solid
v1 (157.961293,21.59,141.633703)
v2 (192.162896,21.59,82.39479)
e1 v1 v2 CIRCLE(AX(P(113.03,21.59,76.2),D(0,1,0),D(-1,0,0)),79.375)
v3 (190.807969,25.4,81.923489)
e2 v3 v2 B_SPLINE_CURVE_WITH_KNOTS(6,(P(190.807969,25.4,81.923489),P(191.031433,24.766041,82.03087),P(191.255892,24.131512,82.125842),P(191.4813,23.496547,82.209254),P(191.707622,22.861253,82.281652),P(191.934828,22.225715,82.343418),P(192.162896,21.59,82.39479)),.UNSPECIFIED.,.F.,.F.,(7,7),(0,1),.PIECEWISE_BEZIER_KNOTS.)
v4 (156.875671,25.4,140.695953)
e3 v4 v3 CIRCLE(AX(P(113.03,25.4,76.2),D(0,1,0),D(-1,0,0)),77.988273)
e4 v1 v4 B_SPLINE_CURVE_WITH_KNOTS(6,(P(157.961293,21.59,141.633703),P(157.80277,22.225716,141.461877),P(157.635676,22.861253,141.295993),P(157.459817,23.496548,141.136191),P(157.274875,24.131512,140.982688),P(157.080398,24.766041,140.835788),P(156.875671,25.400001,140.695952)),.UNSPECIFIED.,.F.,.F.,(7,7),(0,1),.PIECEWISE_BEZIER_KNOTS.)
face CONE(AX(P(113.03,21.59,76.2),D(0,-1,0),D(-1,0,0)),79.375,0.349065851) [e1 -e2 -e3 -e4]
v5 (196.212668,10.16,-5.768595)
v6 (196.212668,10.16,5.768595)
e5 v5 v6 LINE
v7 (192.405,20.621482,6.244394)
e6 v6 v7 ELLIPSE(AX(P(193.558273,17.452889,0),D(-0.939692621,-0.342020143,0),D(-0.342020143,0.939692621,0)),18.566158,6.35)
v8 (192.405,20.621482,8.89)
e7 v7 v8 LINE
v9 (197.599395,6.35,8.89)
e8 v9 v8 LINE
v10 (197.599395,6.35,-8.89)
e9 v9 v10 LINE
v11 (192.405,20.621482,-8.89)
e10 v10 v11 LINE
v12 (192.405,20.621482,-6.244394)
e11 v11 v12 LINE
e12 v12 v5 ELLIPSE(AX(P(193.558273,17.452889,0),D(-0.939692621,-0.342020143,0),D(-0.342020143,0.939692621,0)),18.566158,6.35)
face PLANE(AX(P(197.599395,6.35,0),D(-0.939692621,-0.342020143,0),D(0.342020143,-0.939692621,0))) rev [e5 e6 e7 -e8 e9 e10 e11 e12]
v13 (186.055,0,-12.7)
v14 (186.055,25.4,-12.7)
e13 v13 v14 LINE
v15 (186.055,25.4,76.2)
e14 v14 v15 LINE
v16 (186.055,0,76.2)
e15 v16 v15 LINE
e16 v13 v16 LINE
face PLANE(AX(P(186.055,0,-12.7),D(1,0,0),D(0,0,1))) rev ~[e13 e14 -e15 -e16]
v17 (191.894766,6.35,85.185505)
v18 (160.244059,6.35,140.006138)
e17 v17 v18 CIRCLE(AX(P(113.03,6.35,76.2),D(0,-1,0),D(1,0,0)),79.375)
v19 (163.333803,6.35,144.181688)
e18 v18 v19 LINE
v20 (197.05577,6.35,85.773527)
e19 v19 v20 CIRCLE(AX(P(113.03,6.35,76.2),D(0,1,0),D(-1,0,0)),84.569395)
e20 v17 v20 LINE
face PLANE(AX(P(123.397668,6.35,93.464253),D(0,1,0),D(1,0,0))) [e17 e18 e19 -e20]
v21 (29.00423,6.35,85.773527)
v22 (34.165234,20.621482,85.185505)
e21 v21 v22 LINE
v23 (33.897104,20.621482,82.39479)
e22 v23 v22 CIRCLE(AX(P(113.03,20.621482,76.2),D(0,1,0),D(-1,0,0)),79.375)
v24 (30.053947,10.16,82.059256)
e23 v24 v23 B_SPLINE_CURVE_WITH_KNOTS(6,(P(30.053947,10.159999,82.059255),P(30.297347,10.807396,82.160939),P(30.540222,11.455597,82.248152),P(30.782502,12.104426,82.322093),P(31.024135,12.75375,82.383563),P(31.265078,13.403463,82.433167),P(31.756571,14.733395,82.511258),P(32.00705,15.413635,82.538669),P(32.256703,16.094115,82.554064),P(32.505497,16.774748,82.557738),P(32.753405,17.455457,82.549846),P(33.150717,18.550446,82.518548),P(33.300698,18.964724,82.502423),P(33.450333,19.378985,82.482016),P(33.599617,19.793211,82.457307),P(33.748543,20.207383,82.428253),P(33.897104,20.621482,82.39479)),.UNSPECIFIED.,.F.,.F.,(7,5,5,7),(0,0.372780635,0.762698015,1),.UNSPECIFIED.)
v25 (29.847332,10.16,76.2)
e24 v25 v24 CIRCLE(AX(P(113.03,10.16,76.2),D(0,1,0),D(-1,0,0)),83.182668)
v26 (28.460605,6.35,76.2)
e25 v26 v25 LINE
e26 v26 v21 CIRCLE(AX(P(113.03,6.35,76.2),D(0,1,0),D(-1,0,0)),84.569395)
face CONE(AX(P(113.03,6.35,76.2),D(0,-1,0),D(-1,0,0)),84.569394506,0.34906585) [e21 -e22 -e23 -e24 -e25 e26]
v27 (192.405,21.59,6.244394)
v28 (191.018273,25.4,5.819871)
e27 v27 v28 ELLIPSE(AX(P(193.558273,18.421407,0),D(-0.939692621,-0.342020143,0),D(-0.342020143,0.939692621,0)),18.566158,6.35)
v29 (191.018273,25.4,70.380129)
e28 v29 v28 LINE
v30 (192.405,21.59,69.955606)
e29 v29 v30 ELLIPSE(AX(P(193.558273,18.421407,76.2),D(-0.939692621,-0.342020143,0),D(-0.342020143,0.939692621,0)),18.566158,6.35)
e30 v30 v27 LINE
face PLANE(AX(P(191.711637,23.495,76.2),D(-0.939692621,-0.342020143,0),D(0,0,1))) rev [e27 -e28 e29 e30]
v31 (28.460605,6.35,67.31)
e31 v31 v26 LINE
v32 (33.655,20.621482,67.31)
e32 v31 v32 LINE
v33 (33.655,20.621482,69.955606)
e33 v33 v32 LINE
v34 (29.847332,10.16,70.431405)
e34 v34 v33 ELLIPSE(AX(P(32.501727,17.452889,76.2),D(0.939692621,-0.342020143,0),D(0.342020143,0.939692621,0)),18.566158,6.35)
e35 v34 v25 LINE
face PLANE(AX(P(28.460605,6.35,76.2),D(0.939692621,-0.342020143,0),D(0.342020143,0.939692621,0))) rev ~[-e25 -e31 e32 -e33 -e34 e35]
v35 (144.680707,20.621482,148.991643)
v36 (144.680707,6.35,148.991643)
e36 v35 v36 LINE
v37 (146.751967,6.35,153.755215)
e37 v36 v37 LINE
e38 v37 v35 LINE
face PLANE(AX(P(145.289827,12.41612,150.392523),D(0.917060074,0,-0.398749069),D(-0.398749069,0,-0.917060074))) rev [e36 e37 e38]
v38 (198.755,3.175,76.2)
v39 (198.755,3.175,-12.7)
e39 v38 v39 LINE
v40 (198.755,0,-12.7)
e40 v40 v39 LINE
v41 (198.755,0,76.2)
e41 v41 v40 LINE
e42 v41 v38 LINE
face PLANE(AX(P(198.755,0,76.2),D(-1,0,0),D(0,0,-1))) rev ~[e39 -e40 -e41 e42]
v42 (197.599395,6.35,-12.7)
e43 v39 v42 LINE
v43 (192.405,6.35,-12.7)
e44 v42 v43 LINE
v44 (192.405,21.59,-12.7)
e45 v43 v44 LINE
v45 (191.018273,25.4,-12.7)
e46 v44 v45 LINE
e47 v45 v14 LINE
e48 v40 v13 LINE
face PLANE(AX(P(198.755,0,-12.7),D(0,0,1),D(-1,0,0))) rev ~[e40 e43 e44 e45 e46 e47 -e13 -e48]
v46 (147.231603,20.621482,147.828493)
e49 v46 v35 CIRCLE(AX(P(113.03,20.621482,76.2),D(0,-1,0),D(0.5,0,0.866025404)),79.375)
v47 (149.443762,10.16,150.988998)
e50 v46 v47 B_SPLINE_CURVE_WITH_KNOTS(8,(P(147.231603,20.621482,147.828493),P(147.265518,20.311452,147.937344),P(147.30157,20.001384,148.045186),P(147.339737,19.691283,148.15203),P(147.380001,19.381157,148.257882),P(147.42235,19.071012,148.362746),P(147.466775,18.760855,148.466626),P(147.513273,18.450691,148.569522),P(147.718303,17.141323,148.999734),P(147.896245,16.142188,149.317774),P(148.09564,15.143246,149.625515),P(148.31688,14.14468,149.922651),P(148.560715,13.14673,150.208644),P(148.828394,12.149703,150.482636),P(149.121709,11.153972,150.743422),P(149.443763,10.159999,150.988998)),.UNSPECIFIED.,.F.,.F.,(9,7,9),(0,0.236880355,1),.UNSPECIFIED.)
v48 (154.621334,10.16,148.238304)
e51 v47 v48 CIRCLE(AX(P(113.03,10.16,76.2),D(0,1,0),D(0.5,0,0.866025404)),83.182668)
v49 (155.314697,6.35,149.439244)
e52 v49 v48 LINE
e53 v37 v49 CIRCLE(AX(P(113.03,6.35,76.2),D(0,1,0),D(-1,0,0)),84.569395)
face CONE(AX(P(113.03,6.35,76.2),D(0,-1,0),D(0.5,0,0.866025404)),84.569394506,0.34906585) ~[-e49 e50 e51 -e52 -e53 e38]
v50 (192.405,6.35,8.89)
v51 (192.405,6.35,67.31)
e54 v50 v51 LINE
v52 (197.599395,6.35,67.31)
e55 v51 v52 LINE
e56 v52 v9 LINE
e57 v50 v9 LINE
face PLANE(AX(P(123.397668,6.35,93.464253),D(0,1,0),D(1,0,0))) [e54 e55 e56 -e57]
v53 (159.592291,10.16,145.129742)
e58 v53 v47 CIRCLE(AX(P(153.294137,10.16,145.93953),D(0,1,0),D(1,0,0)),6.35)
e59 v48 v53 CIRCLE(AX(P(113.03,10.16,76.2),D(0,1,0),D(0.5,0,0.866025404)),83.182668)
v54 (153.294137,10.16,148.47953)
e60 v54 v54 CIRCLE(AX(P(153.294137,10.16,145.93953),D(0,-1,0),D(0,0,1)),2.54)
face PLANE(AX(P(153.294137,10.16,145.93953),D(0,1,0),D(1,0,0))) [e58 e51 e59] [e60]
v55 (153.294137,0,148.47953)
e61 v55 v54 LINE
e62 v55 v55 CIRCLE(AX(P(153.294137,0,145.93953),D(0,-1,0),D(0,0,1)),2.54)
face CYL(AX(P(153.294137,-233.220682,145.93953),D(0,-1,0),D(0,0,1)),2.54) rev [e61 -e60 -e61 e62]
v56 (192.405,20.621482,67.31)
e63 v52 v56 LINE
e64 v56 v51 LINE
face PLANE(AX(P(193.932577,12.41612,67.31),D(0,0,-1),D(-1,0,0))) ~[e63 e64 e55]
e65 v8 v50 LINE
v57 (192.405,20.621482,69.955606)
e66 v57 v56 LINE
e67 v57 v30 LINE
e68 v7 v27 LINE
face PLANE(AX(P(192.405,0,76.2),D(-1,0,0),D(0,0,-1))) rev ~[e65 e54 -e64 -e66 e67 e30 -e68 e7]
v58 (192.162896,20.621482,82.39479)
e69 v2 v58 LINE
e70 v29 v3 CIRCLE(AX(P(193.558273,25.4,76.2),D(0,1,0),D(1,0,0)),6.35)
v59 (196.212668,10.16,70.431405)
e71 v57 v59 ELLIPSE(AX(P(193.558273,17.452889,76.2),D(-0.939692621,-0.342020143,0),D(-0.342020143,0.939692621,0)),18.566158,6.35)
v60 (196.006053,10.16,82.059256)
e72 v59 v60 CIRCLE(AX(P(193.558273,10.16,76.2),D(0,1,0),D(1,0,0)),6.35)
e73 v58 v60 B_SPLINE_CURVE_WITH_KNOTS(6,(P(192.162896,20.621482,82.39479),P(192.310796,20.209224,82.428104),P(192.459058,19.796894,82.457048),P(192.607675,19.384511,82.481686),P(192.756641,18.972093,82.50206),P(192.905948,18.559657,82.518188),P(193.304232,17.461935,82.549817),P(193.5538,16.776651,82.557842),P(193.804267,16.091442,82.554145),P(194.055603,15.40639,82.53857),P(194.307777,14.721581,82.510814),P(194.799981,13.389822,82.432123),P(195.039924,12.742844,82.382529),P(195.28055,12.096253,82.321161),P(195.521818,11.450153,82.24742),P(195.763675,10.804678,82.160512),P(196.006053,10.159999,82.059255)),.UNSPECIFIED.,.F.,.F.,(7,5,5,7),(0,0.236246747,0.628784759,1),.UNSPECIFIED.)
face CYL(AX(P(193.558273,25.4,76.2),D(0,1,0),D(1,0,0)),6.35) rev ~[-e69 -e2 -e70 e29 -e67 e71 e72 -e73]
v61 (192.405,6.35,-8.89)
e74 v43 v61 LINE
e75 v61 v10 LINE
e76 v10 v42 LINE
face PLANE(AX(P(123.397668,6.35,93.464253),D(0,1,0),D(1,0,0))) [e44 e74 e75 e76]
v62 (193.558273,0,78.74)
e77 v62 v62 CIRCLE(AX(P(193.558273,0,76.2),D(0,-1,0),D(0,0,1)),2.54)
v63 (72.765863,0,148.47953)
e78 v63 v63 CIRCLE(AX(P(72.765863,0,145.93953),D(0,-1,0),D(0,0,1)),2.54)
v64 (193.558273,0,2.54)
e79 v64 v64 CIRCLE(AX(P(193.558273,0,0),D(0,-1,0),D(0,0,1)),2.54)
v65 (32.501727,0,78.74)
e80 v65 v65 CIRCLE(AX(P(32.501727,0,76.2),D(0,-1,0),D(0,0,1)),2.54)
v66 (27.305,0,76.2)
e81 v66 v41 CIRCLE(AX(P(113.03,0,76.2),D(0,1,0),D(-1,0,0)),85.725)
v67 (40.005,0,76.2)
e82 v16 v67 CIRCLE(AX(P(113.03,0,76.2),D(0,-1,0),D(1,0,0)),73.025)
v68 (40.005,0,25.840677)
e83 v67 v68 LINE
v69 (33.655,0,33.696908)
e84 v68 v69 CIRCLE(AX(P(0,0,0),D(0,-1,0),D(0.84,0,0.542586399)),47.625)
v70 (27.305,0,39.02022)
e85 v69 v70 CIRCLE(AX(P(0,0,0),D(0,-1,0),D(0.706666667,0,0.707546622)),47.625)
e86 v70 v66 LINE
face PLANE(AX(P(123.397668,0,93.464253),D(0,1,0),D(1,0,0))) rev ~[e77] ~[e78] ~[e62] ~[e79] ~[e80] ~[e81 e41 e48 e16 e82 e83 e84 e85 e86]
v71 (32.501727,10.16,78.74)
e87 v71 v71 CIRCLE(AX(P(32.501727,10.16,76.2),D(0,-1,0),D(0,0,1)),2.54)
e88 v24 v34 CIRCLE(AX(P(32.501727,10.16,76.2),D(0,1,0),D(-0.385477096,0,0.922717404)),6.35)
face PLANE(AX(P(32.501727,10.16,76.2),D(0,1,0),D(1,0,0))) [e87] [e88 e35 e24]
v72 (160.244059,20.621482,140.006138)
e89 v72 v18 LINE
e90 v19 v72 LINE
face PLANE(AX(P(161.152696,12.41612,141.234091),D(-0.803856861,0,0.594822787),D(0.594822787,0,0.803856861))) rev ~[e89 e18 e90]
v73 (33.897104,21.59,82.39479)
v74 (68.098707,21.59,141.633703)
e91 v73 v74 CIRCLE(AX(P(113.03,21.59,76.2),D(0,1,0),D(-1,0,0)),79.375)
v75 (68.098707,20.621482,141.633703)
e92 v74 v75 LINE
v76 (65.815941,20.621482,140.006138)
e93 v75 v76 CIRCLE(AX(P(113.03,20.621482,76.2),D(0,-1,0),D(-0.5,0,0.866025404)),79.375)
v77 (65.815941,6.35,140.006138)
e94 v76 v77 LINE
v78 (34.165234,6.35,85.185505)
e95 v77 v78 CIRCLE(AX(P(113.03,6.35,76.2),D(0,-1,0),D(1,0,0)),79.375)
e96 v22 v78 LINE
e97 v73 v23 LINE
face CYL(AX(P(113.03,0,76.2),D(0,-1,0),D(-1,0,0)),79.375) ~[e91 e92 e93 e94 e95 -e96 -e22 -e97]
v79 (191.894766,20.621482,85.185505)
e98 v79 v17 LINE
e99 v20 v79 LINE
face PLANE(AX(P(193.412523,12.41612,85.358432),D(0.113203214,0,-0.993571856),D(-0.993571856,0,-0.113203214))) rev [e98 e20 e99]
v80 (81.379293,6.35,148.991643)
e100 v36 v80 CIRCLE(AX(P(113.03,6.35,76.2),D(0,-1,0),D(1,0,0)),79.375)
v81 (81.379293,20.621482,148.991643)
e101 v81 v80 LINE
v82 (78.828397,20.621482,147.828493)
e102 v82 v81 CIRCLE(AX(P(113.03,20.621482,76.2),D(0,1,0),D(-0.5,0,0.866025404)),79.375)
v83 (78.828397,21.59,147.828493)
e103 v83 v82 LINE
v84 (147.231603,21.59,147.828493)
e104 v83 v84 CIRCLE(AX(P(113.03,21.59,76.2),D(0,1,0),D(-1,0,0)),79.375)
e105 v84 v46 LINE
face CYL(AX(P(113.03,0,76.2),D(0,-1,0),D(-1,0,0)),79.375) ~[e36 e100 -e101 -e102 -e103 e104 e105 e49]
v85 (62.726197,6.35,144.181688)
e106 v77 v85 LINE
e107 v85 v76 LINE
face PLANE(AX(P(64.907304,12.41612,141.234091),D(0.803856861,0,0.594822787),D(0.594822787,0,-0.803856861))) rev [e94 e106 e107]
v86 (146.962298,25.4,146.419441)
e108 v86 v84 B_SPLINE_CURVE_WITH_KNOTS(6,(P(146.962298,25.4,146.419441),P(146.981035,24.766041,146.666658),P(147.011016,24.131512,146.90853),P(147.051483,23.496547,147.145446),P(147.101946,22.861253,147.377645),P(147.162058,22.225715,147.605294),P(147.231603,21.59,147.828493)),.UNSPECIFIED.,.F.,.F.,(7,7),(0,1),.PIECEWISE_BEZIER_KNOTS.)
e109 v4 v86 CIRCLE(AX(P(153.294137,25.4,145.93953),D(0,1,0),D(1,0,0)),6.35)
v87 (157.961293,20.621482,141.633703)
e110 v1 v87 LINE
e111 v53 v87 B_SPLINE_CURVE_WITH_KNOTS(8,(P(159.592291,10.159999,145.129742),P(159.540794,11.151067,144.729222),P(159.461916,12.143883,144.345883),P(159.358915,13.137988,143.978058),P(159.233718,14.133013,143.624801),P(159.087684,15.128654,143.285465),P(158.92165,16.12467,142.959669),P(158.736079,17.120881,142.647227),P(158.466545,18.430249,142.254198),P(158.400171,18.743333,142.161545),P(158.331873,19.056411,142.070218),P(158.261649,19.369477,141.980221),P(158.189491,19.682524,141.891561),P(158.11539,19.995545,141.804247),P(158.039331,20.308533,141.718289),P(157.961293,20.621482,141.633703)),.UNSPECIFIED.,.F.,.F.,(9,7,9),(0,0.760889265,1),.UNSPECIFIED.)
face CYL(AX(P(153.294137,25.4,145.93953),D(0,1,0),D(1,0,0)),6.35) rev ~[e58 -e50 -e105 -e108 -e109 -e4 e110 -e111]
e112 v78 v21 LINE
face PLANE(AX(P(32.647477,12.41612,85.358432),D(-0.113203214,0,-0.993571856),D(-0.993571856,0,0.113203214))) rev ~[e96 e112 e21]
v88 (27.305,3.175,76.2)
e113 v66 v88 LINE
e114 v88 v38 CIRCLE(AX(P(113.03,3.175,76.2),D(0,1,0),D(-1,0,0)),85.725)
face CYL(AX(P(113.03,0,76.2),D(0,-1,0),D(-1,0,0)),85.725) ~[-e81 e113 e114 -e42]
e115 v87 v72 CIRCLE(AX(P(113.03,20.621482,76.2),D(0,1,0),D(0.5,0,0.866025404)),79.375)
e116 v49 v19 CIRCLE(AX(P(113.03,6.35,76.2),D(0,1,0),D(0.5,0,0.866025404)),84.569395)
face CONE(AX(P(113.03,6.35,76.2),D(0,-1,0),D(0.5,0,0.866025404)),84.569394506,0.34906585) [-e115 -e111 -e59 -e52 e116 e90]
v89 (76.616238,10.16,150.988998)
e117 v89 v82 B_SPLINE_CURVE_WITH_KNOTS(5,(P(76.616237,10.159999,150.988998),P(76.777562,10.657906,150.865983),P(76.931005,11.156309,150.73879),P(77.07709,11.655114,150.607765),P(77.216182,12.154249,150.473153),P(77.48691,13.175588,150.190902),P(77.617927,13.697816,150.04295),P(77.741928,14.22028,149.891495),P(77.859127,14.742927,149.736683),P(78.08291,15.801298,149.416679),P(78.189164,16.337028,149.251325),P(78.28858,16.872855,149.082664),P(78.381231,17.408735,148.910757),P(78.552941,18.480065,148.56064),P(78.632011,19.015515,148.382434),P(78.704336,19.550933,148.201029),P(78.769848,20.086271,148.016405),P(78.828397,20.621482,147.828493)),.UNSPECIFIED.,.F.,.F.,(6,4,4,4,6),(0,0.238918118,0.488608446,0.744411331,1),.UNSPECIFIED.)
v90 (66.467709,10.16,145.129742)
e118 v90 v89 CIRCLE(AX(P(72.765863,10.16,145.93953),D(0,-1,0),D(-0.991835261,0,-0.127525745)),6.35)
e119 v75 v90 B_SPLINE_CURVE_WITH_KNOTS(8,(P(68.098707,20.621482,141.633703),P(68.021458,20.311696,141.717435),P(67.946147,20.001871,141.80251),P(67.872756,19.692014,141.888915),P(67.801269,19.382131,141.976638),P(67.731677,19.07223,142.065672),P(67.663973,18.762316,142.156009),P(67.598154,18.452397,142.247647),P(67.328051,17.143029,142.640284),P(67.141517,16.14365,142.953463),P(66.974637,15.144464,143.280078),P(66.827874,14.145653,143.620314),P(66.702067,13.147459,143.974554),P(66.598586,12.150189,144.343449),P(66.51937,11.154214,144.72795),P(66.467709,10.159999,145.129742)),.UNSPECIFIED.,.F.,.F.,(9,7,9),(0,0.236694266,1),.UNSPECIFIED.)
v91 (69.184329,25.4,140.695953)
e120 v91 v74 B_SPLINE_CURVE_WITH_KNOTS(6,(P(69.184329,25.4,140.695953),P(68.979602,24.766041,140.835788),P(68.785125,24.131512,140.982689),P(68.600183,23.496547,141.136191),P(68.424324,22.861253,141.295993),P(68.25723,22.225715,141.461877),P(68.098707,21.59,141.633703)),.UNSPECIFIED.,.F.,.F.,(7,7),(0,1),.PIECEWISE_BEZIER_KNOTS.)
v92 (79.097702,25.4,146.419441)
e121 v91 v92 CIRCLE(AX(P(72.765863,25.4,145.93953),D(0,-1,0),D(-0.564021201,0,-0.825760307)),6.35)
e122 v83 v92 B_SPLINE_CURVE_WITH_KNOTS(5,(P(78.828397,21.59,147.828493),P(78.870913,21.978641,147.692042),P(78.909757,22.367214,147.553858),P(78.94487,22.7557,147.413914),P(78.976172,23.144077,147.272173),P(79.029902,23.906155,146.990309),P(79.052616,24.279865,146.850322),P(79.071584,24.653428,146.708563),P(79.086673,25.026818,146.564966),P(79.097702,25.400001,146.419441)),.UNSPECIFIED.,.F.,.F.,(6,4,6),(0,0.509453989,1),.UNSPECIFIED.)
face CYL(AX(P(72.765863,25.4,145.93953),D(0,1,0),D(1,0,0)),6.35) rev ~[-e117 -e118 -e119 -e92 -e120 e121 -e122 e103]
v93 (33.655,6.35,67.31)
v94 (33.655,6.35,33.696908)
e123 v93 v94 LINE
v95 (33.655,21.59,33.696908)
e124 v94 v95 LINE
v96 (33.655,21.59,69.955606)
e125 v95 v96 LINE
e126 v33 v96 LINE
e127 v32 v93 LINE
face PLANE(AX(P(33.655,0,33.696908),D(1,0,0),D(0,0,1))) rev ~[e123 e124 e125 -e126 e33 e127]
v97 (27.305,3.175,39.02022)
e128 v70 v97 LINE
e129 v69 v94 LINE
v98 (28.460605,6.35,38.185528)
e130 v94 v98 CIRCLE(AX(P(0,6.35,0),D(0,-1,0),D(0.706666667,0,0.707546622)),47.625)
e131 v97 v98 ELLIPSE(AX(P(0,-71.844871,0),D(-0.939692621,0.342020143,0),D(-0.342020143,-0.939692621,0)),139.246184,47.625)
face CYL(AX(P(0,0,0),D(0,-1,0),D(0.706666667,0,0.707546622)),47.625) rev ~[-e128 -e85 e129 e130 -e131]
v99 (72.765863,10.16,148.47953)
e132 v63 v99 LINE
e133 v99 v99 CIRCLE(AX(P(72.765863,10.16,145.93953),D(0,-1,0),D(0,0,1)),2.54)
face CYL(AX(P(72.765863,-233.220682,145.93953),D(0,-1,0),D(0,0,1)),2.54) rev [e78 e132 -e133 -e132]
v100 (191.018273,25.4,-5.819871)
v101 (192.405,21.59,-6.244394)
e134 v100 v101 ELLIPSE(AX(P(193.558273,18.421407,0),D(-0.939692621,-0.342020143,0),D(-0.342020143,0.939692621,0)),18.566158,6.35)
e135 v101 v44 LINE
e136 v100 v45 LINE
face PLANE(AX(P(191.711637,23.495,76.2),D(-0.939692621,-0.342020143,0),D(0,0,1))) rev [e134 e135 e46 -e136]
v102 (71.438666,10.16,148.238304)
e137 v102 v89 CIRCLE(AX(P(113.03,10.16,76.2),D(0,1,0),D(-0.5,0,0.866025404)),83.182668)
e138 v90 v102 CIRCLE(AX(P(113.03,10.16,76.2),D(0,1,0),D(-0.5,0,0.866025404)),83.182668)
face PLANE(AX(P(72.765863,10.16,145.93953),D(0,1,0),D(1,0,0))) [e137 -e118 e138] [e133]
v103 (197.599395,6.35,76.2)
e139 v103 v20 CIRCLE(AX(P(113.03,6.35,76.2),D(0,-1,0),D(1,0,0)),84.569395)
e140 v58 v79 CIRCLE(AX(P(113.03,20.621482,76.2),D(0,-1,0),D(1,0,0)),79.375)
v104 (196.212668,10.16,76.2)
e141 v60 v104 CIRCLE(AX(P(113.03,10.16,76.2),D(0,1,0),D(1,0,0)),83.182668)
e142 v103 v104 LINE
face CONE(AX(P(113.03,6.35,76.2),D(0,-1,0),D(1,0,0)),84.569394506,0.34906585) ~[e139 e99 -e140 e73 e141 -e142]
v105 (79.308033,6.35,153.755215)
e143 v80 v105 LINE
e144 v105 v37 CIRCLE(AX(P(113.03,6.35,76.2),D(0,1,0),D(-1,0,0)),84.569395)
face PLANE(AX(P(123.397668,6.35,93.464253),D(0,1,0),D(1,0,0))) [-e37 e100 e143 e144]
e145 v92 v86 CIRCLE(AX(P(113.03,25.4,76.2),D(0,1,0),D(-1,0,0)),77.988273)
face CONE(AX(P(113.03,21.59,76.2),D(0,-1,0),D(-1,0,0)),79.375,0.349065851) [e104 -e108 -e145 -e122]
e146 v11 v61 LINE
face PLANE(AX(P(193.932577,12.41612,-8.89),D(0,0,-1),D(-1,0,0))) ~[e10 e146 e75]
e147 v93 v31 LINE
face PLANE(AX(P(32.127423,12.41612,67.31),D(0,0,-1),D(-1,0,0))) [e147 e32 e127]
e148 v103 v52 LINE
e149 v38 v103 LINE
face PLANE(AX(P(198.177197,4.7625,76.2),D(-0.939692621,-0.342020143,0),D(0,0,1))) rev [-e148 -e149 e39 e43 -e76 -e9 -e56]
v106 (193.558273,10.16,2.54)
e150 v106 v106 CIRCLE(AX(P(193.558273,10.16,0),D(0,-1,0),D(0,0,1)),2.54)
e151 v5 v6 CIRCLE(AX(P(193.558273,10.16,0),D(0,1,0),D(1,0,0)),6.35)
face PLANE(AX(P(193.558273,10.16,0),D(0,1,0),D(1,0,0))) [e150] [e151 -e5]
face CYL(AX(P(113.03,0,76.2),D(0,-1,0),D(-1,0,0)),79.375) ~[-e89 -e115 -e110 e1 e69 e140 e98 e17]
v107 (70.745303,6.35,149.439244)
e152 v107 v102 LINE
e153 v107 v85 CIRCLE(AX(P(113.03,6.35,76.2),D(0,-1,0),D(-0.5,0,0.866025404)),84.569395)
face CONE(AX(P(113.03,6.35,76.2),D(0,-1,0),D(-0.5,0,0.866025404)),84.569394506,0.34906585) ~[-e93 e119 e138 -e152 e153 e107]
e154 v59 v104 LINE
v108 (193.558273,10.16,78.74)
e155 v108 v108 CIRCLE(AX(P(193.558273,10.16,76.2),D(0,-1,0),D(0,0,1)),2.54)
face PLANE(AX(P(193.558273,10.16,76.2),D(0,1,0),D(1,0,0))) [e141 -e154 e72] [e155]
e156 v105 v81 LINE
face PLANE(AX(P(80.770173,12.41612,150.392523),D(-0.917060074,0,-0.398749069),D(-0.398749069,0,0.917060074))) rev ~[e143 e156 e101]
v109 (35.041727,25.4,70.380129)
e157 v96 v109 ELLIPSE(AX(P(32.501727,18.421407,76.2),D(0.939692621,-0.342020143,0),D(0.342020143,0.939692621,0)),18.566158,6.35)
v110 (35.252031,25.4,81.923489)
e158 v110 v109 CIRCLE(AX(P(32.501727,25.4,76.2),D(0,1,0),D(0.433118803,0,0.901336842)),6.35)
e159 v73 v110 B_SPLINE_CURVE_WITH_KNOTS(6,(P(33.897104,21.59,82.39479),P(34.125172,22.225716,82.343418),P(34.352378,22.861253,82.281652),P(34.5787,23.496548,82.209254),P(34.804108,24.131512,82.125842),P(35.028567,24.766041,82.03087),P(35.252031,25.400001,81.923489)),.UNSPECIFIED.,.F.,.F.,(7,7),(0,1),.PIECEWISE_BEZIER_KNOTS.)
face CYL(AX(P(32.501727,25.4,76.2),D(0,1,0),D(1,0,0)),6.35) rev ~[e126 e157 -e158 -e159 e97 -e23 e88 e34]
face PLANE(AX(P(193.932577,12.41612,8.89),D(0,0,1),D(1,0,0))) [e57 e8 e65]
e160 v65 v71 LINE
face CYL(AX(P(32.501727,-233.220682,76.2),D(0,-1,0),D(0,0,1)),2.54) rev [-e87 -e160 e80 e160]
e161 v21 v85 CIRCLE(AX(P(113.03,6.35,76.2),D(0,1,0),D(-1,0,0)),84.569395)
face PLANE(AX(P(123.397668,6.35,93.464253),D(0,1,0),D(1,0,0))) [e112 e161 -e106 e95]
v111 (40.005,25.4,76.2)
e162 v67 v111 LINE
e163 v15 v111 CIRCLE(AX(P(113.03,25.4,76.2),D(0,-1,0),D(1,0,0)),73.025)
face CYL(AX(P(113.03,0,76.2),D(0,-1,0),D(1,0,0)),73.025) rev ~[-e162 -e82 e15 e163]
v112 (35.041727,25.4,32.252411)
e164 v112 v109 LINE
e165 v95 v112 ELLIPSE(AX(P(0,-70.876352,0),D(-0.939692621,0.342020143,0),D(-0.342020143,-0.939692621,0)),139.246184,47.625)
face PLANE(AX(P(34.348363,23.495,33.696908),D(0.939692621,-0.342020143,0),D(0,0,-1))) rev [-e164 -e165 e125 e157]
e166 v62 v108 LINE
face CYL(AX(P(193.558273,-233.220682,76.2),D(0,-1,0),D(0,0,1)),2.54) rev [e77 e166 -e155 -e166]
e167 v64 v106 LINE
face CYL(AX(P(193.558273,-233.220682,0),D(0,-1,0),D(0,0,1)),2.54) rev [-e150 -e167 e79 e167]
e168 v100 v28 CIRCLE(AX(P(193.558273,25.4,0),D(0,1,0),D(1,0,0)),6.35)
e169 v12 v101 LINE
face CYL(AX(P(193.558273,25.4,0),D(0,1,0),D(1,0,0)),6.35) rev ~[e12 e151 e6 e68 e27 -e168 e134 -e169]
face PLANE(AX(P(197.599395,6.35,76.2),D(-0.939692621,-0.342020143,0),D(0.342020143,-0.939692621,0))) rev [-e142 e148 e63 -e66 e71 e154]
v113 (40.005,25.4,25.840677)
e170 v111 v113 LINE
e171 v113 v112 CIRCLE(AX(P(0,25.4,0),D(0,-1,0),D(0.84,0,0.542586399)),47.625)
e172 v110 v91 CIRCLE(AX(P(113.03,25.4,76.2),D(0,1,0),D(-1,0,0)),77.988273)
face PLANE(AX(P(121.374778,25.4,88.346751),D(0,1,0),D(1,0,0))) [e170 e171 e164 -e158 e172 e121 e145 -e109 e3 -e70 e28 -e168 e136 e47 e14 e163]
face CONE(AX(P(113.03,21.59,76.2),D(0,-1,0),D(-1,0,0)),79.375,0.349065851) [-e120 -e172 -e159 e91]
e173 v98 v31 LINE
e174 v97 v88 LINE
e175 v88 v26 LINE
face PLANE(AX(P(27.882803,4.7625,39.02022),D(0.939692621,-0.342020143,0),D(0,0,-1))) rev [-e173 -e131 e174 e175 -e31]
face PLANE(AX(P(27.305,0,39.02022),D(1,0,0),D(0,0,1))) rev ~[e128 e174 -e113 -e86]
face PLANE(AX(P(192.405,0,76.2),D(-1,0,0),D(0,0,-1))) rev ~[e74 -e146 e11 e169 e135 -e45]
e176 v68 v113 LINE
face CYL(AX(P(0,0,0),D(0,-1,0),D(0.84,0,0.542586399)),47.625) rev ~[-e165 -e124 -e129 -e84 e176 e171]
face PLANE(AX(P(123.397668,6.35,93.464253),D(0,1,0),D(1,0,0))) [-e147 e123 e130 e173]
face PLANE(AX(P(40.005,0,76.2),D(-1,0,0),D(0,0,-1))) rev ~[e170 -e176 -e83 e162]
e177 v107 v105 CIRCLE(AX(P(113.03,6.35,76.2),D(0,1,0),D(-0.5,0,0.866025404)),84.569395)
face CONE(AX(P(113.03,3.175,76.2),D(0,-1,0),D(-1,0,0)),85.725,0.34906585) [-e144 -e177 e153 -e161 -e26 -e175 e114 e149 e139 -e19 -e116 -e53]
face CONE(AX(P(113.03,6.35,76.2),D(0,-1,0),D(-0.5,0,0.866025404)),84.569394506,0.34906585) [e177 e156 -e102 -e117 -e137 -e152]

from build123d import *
from OCP.BRepFilletAPI import BRepFilletAPI_MakeChamfer

# Parameters (mm, degrees)
BOSS_EXTRUDE1_DEPTH     = 25.4
BOSS_EXTRUDE2_DEPTH     = 6.35
CHAMFER1_SIZE           = 3.175
CHAMFER1_SIZE2          = 1.155605494
BOSS_EXTRUDE3_DEPTH     = 8.89
REVOLVE1_ANGLE          = 6.5
CHAMFER2_SIZE           = 3.81
CHAMFER2_SIZE2          = 1.386726593
CIRPATTERN1_COUNT       = 3
CIRPATTERN1_ANGLE       = 120
LPATTERN1_COUNT         = 2
LPATTERN1_PITCH         = 76.2
CUT_EXTRUDE1_DEPTH      = 258.62068172
CUT_EXTRUDE1_DEPTH_BACK = 258.62068172
SKETCH8_R               = 2.54
SKETCH8_3_R             = 6.35
CUT_EXTRUDE2_DEPTH      = 15.24


with BuildPart() as part:
    # Sketch2 → Boss-Extrude1 (new body)
    with BuildSketch(Plane(origin=(0, 0, 0), x_dir=(1, 0, 0), z_dir=(0, 1, 0))):
        with BuildLine():
            Line((186.055, 0), (186.055, -76.2))
            ThreePointArc((186.055, -76.2), (113.03, -149.225), (40.005, -76.2))
            Line((40.005, -76.2), (40.005, -25.840677236))
            ThreePointArc((40.005, -25.840677236), (37.038884837, -29.937629082), (33.655, -33.69690787))
            Line((33.655, -33.69690787), (33.655, -76.2))
            ThreePointArc((33.655, -76.2), (113.03, -155.575), (192.405, -76.2))
            Line((192.405, -76.2), (192.405, 12.7))
            Line((192.405, 12.7), (186.055, 12.7))
            Line((186.055, 12.7), (186.055, 0))
        make_face()
    extrude(amount=BOSS_EXTRUDE1_DEPTH)

    # Sketch2<3> → Boss-Extrude2 (add)
    with BuildSketch(Plane(origin=(0, 0, 0), x_dir=(1, 0, 0), z_dir=(0, 1, 0))):
        with BuildLine():
            Line((198.755, 12.7), (192.405, 12.7))
            Line((192.405, 12.7), (192.405, -76.2))
            ThreePointArc((192.405, -76.2), (113.03, -155.575), (33.655, -76.2))
            Line((33.655, -76.2), (33.655, -33.69690787))
            ThreePointArc((33.655, -33.69690787), (30.595993432, -36.496928788), (27.305, -39.020220399))
            Line((27.305, -39.020220399), (27.305, -76.2))
            ThreePointArc((27.305, -76.2), (113.03, -161.925), (198.755, -76.2))
            Line((198.755, -76.2), (198.755, 12.7))
        make_face()
    extrude(amount=BOSS_EXTRUDE2_DEPTH)

    # Chamfer1: one chamfer whose edges measure the first distance from different faces: ONE call of the kernel's chamfer builder (chamfer() names one face for all edges)
    chamfer1_edges_1 = [part.edges().sort_by_distance(p)[0] for p in [
        (27.305, 6.35, 57.6101102),
    ]]
    chamfer1_side_1 = [part.faces().sort_by_distance(p)[0] for p in [
        (27.305, 3.175, 57.6101102),
    ]]
    chamfer1_edges_2 = [part.edges().sort_by_distance(p)[0] for p in [
        (198.755, 6.35, 31.75),
    ]]
    chamfer1_side_2 = [part.faces().sort_by_distance(p)[0] for p in [
        (198.755, 3.175, 31.75),
    ]]
    chamfer1_edges_3 = [part.edges().sort_by_distance(p)[0] for p in [
        (113.03, 6.35, 161.925),
    ]]
    chamfer1_side_3 = [part.faces().sort_by_distance(p)[0] for p in [
        (113.03, 3.175, 161.925),
    ]]
    chamfer1 = BRepFilletAPI_MakeChamfer(part.part.solid().wrapped)
    for e in chamfer1_edges_1:
        chamfer1.Add(CHAMFER1_SIZE, CHAMFER1_SIZE2, e.wrapped, chamfer1_side_1[0].wrapped)  # the first distance lies on this face
    for e in chamfer1_edges_2:
        chamfer1.Add(CHAMFER1_SIZE, CHAMFER1_SIZE2, e.wrapped, chamfer1_side_2[0].wrapped)  # the first distance lies on this face
    for e in chamfer1_edges_3:
        chamfer1.Add(CHAMFER1_SIZE, CHAMFER1_SIZE2, e.wrapped, chamfer1_side_3[0].wrapped)  # the first distance lies on this face
    add(Compound.cast(chamfer1.Shape()), mode=Mode.REPLACE)

    # Chamfer2: one chamfer whose edges measure the first distance from different faces: ONE call of the kernel's chamfer builder (chamfer() names one face for all edges)
    chamfer2_edges_1 = [part.edges().sort_by_distance(p)[0] for p in [
        (33.655, 25.4, 54.948453935),
    ]]
    chamfer2_side_1 = [part.faces().sort_by_distance(p)[0] for p in [
        (33.655, 15.875, 54.948453935),
    ]]
    chamfer2_edges_2 = [part.edges().sort_by_distance(p)[0] for p in [
        (192.405, 25.4, 31.75),
    ]]
    chamfer2_side_2 = [part.faces().sort_by_distance(p)[0] for p in [
        (192.405, 15.875, 31.75),
    ]]
    chamfer2_edges_3 = [part.edges().sort_by_distance(p)[0] for p in [
        (113.03, 25.4, 155.575),
    ]]
    chamfer2_side_3 = [part.faces().sort_by_distance(p)[0] for p in [
        (113.03, 15.875, 155.575),
    ]]
    chamfer2 = BRepFilletAPI_MakeChamfer(part.part.solid().wrapped)
    for e in chamfer2_edges_1:
        chamfer2.Add(CHAMFER2_SIZE, CHAMFER2_SIZE2, e.wrapped, chamfer2_side_1[0].wrapped)  # the first distance lies on this face
    for e in chamfer2_edges_2:
        chamfer2.Add(CHAMFER2_SIZE, CHAMFER2_SIZE2, e.wrapped, chamfer2_side_2[0].wrapped)  # the first distance lies on this face
    for e in chamfer2_edges_3:
        chamfer2.Add(CHAMFER2_SIZE, CHAMFER2_SIZE2, e.wrapped, chamfer2_side_3[0].wrapped)  # the first distance lies on this face
    add(Compound.cast(chamfer2.Shape()), mode=Mode.REPLACE)


with BuildPart() as body_2:
    # Sketch4 → Boss-Extrude3 (new body)
    with BuildSketch(Plane.XY.offset(76.2)):
        Polygon((28.460605494, 6.35), (33.655, 20.621481614), (33.655, 6.35), align=None)
    extrude(amount=-BOSS_EXTRUDE3_DEPTH)


with BuildPart() as body_3:
    # Sketch4<4> → Revolve1 (revolve)
    with BuildSketch(Plane.XY.offset(76.2)):
        Polygon((28.460605494, 6.35), (33.655, 20.621481614), (33.655, 6.35), align=None)
    revolve(axis=Axis((113.03, 0, 76.2), (0, 1, 0)), revolution_arc=REVOLVE1_ANGLE)


with BuildPart() as body_4:
    # Mirror1: mirrored copy
    add(body_3.part.mirror(Plane.ZY.offset(-113.03)))


with BuildPart() as body_5:
    # Mirror1 2: mirrored copy
    add(body_2.part.mirror(Plane.ZY.offset(-113.03)))


with BuildPart() as cirpattern1_1:
    # CirPattern1: pattern copy
    add(body_3.part.rotate(Axis((113.03, 0, 76.2), (0, 1, 0)), 1 * CIRPATTERN1_ANGLE / (CIRPATTERN1_COUNT - 1)))


with BuildPart() as cirpattern1_2:
    # CirPattern1: pattern copy
    add(body_3.part.rotate(Axis((113.03, 0, 76.2), (0, 1, 0)), 2 * CIRPATTERN1_ANGLE / (CIRPATTERN1_COUNT - 1)))


with BuildPart() as body_8:
    # Mirror2: mirrored copy
    add(cirpattern1_1.part.mirror(Plane(origin=(56.515, 0, 174.08685139), x_dir=(-0.499999999999998, 0, 0.8660254037844398), z_dir=(0.8660254037844398, 0, 0.499999999999998))))


with BuildPart() as body_9:
    # Mirror3: mirrored copy
    add(cirpattern1_2.part.mirror(Plane(origin=(169.545, 0, 174.08685139), x_dir=(0.5000000000000039, 0, 0.8660254037844363), z_dir=(0.8660254037844363, 0, -0.500000000000004))))


with BuildPart() as lpattern1_1:
    # LPattern1: pattern copy
    add(body_5.part.moved(Location(Vector(0, 0, -1) * (1 * LPATTERN1_PITCH))))


with BuildPart() as body_11:
    # Mirror4: mirrored copy
    add(lpattern1_1.part.mirror(Plane(origin=(226.06, 0, 0), x_dir=(1, 0, 0), z_dir=(0, 0, -1))))


with BuildPart() as body_4_1:
    add(body_4.part)

    # Combine2: union body 8, body 11, body 5, CirPattern1_1, CirPattern1_2, part, body 9, body 2, LPattern1_1, body 3
    add(body_8.part)
    add(body_11.part)
    add(body_5.part)
    add(cirpattern1_1.part)
    add(cirpattern1_2.part)
    add(part.part)
    add(body_9.part)
    add(body_2.part)
    add(lpattern1_1.part)
    add(body_3.part)

    # Sketch8 → Cut-Extrude1 (cut, two sides: drawn at the far end of the back side and taken through both)
    with BuildSketch(Plane(origin=(0, 25.4, 0), x_dir=(1, 0, 0), z_dir=(0, 1, 0)).offset(-CUT_EXTRUDE1_DEPTH_BACK)):
        with Locations((32.501726593, -76.2)):
            Circle(SKETCH8_R)
        with Locations((72.765863296, -145.939530494)):
            Circle(SKETCH8_R)
        with Locations((153.294136704, -145.939530494)):
            Circle(SKETCH8_R)
        with Locations((193.558273407, -76.2)):
            Circle(SKETCH8_R)
        with Locations((193.558273407, 0)):
            Circle(SKETCH8_R)
    extrude(amount=CUT_EXTRUDE1_DEPTH + CUT_EXTRUDE1_DEPTH_BACK, mode=Mode.SUBTRACT)

    # Sketch8<3> → Cut-Extrude2 (cut)
    with BuildSketch(Plane(origin=(0, 25.4, 0), x_dir=(1, 0, 0), z_dir=(0, 1, 0))):
        with Locations((32.501726593, -76.2)):
            Circle(SKETCH8_3_R)
        with Locations((72.765863296, -145.939530494)):
            Circle(SKETCH8_3_R)
        with Locations((153.294136704, -145.939530494)):
            Circle(SKETCH8_3_R)
        with Locations((193.558273407, -76.2)):
            Circle(SKETCH8_3_R)
        with Locations((193.558273407, 0)):
            Circle(SKETCH8_3_R)
    extrude(amount=-CUT_EXTRUDE2_DEPTH, mode=Mode.SUBTRACT)


solid = body_4_1.part
